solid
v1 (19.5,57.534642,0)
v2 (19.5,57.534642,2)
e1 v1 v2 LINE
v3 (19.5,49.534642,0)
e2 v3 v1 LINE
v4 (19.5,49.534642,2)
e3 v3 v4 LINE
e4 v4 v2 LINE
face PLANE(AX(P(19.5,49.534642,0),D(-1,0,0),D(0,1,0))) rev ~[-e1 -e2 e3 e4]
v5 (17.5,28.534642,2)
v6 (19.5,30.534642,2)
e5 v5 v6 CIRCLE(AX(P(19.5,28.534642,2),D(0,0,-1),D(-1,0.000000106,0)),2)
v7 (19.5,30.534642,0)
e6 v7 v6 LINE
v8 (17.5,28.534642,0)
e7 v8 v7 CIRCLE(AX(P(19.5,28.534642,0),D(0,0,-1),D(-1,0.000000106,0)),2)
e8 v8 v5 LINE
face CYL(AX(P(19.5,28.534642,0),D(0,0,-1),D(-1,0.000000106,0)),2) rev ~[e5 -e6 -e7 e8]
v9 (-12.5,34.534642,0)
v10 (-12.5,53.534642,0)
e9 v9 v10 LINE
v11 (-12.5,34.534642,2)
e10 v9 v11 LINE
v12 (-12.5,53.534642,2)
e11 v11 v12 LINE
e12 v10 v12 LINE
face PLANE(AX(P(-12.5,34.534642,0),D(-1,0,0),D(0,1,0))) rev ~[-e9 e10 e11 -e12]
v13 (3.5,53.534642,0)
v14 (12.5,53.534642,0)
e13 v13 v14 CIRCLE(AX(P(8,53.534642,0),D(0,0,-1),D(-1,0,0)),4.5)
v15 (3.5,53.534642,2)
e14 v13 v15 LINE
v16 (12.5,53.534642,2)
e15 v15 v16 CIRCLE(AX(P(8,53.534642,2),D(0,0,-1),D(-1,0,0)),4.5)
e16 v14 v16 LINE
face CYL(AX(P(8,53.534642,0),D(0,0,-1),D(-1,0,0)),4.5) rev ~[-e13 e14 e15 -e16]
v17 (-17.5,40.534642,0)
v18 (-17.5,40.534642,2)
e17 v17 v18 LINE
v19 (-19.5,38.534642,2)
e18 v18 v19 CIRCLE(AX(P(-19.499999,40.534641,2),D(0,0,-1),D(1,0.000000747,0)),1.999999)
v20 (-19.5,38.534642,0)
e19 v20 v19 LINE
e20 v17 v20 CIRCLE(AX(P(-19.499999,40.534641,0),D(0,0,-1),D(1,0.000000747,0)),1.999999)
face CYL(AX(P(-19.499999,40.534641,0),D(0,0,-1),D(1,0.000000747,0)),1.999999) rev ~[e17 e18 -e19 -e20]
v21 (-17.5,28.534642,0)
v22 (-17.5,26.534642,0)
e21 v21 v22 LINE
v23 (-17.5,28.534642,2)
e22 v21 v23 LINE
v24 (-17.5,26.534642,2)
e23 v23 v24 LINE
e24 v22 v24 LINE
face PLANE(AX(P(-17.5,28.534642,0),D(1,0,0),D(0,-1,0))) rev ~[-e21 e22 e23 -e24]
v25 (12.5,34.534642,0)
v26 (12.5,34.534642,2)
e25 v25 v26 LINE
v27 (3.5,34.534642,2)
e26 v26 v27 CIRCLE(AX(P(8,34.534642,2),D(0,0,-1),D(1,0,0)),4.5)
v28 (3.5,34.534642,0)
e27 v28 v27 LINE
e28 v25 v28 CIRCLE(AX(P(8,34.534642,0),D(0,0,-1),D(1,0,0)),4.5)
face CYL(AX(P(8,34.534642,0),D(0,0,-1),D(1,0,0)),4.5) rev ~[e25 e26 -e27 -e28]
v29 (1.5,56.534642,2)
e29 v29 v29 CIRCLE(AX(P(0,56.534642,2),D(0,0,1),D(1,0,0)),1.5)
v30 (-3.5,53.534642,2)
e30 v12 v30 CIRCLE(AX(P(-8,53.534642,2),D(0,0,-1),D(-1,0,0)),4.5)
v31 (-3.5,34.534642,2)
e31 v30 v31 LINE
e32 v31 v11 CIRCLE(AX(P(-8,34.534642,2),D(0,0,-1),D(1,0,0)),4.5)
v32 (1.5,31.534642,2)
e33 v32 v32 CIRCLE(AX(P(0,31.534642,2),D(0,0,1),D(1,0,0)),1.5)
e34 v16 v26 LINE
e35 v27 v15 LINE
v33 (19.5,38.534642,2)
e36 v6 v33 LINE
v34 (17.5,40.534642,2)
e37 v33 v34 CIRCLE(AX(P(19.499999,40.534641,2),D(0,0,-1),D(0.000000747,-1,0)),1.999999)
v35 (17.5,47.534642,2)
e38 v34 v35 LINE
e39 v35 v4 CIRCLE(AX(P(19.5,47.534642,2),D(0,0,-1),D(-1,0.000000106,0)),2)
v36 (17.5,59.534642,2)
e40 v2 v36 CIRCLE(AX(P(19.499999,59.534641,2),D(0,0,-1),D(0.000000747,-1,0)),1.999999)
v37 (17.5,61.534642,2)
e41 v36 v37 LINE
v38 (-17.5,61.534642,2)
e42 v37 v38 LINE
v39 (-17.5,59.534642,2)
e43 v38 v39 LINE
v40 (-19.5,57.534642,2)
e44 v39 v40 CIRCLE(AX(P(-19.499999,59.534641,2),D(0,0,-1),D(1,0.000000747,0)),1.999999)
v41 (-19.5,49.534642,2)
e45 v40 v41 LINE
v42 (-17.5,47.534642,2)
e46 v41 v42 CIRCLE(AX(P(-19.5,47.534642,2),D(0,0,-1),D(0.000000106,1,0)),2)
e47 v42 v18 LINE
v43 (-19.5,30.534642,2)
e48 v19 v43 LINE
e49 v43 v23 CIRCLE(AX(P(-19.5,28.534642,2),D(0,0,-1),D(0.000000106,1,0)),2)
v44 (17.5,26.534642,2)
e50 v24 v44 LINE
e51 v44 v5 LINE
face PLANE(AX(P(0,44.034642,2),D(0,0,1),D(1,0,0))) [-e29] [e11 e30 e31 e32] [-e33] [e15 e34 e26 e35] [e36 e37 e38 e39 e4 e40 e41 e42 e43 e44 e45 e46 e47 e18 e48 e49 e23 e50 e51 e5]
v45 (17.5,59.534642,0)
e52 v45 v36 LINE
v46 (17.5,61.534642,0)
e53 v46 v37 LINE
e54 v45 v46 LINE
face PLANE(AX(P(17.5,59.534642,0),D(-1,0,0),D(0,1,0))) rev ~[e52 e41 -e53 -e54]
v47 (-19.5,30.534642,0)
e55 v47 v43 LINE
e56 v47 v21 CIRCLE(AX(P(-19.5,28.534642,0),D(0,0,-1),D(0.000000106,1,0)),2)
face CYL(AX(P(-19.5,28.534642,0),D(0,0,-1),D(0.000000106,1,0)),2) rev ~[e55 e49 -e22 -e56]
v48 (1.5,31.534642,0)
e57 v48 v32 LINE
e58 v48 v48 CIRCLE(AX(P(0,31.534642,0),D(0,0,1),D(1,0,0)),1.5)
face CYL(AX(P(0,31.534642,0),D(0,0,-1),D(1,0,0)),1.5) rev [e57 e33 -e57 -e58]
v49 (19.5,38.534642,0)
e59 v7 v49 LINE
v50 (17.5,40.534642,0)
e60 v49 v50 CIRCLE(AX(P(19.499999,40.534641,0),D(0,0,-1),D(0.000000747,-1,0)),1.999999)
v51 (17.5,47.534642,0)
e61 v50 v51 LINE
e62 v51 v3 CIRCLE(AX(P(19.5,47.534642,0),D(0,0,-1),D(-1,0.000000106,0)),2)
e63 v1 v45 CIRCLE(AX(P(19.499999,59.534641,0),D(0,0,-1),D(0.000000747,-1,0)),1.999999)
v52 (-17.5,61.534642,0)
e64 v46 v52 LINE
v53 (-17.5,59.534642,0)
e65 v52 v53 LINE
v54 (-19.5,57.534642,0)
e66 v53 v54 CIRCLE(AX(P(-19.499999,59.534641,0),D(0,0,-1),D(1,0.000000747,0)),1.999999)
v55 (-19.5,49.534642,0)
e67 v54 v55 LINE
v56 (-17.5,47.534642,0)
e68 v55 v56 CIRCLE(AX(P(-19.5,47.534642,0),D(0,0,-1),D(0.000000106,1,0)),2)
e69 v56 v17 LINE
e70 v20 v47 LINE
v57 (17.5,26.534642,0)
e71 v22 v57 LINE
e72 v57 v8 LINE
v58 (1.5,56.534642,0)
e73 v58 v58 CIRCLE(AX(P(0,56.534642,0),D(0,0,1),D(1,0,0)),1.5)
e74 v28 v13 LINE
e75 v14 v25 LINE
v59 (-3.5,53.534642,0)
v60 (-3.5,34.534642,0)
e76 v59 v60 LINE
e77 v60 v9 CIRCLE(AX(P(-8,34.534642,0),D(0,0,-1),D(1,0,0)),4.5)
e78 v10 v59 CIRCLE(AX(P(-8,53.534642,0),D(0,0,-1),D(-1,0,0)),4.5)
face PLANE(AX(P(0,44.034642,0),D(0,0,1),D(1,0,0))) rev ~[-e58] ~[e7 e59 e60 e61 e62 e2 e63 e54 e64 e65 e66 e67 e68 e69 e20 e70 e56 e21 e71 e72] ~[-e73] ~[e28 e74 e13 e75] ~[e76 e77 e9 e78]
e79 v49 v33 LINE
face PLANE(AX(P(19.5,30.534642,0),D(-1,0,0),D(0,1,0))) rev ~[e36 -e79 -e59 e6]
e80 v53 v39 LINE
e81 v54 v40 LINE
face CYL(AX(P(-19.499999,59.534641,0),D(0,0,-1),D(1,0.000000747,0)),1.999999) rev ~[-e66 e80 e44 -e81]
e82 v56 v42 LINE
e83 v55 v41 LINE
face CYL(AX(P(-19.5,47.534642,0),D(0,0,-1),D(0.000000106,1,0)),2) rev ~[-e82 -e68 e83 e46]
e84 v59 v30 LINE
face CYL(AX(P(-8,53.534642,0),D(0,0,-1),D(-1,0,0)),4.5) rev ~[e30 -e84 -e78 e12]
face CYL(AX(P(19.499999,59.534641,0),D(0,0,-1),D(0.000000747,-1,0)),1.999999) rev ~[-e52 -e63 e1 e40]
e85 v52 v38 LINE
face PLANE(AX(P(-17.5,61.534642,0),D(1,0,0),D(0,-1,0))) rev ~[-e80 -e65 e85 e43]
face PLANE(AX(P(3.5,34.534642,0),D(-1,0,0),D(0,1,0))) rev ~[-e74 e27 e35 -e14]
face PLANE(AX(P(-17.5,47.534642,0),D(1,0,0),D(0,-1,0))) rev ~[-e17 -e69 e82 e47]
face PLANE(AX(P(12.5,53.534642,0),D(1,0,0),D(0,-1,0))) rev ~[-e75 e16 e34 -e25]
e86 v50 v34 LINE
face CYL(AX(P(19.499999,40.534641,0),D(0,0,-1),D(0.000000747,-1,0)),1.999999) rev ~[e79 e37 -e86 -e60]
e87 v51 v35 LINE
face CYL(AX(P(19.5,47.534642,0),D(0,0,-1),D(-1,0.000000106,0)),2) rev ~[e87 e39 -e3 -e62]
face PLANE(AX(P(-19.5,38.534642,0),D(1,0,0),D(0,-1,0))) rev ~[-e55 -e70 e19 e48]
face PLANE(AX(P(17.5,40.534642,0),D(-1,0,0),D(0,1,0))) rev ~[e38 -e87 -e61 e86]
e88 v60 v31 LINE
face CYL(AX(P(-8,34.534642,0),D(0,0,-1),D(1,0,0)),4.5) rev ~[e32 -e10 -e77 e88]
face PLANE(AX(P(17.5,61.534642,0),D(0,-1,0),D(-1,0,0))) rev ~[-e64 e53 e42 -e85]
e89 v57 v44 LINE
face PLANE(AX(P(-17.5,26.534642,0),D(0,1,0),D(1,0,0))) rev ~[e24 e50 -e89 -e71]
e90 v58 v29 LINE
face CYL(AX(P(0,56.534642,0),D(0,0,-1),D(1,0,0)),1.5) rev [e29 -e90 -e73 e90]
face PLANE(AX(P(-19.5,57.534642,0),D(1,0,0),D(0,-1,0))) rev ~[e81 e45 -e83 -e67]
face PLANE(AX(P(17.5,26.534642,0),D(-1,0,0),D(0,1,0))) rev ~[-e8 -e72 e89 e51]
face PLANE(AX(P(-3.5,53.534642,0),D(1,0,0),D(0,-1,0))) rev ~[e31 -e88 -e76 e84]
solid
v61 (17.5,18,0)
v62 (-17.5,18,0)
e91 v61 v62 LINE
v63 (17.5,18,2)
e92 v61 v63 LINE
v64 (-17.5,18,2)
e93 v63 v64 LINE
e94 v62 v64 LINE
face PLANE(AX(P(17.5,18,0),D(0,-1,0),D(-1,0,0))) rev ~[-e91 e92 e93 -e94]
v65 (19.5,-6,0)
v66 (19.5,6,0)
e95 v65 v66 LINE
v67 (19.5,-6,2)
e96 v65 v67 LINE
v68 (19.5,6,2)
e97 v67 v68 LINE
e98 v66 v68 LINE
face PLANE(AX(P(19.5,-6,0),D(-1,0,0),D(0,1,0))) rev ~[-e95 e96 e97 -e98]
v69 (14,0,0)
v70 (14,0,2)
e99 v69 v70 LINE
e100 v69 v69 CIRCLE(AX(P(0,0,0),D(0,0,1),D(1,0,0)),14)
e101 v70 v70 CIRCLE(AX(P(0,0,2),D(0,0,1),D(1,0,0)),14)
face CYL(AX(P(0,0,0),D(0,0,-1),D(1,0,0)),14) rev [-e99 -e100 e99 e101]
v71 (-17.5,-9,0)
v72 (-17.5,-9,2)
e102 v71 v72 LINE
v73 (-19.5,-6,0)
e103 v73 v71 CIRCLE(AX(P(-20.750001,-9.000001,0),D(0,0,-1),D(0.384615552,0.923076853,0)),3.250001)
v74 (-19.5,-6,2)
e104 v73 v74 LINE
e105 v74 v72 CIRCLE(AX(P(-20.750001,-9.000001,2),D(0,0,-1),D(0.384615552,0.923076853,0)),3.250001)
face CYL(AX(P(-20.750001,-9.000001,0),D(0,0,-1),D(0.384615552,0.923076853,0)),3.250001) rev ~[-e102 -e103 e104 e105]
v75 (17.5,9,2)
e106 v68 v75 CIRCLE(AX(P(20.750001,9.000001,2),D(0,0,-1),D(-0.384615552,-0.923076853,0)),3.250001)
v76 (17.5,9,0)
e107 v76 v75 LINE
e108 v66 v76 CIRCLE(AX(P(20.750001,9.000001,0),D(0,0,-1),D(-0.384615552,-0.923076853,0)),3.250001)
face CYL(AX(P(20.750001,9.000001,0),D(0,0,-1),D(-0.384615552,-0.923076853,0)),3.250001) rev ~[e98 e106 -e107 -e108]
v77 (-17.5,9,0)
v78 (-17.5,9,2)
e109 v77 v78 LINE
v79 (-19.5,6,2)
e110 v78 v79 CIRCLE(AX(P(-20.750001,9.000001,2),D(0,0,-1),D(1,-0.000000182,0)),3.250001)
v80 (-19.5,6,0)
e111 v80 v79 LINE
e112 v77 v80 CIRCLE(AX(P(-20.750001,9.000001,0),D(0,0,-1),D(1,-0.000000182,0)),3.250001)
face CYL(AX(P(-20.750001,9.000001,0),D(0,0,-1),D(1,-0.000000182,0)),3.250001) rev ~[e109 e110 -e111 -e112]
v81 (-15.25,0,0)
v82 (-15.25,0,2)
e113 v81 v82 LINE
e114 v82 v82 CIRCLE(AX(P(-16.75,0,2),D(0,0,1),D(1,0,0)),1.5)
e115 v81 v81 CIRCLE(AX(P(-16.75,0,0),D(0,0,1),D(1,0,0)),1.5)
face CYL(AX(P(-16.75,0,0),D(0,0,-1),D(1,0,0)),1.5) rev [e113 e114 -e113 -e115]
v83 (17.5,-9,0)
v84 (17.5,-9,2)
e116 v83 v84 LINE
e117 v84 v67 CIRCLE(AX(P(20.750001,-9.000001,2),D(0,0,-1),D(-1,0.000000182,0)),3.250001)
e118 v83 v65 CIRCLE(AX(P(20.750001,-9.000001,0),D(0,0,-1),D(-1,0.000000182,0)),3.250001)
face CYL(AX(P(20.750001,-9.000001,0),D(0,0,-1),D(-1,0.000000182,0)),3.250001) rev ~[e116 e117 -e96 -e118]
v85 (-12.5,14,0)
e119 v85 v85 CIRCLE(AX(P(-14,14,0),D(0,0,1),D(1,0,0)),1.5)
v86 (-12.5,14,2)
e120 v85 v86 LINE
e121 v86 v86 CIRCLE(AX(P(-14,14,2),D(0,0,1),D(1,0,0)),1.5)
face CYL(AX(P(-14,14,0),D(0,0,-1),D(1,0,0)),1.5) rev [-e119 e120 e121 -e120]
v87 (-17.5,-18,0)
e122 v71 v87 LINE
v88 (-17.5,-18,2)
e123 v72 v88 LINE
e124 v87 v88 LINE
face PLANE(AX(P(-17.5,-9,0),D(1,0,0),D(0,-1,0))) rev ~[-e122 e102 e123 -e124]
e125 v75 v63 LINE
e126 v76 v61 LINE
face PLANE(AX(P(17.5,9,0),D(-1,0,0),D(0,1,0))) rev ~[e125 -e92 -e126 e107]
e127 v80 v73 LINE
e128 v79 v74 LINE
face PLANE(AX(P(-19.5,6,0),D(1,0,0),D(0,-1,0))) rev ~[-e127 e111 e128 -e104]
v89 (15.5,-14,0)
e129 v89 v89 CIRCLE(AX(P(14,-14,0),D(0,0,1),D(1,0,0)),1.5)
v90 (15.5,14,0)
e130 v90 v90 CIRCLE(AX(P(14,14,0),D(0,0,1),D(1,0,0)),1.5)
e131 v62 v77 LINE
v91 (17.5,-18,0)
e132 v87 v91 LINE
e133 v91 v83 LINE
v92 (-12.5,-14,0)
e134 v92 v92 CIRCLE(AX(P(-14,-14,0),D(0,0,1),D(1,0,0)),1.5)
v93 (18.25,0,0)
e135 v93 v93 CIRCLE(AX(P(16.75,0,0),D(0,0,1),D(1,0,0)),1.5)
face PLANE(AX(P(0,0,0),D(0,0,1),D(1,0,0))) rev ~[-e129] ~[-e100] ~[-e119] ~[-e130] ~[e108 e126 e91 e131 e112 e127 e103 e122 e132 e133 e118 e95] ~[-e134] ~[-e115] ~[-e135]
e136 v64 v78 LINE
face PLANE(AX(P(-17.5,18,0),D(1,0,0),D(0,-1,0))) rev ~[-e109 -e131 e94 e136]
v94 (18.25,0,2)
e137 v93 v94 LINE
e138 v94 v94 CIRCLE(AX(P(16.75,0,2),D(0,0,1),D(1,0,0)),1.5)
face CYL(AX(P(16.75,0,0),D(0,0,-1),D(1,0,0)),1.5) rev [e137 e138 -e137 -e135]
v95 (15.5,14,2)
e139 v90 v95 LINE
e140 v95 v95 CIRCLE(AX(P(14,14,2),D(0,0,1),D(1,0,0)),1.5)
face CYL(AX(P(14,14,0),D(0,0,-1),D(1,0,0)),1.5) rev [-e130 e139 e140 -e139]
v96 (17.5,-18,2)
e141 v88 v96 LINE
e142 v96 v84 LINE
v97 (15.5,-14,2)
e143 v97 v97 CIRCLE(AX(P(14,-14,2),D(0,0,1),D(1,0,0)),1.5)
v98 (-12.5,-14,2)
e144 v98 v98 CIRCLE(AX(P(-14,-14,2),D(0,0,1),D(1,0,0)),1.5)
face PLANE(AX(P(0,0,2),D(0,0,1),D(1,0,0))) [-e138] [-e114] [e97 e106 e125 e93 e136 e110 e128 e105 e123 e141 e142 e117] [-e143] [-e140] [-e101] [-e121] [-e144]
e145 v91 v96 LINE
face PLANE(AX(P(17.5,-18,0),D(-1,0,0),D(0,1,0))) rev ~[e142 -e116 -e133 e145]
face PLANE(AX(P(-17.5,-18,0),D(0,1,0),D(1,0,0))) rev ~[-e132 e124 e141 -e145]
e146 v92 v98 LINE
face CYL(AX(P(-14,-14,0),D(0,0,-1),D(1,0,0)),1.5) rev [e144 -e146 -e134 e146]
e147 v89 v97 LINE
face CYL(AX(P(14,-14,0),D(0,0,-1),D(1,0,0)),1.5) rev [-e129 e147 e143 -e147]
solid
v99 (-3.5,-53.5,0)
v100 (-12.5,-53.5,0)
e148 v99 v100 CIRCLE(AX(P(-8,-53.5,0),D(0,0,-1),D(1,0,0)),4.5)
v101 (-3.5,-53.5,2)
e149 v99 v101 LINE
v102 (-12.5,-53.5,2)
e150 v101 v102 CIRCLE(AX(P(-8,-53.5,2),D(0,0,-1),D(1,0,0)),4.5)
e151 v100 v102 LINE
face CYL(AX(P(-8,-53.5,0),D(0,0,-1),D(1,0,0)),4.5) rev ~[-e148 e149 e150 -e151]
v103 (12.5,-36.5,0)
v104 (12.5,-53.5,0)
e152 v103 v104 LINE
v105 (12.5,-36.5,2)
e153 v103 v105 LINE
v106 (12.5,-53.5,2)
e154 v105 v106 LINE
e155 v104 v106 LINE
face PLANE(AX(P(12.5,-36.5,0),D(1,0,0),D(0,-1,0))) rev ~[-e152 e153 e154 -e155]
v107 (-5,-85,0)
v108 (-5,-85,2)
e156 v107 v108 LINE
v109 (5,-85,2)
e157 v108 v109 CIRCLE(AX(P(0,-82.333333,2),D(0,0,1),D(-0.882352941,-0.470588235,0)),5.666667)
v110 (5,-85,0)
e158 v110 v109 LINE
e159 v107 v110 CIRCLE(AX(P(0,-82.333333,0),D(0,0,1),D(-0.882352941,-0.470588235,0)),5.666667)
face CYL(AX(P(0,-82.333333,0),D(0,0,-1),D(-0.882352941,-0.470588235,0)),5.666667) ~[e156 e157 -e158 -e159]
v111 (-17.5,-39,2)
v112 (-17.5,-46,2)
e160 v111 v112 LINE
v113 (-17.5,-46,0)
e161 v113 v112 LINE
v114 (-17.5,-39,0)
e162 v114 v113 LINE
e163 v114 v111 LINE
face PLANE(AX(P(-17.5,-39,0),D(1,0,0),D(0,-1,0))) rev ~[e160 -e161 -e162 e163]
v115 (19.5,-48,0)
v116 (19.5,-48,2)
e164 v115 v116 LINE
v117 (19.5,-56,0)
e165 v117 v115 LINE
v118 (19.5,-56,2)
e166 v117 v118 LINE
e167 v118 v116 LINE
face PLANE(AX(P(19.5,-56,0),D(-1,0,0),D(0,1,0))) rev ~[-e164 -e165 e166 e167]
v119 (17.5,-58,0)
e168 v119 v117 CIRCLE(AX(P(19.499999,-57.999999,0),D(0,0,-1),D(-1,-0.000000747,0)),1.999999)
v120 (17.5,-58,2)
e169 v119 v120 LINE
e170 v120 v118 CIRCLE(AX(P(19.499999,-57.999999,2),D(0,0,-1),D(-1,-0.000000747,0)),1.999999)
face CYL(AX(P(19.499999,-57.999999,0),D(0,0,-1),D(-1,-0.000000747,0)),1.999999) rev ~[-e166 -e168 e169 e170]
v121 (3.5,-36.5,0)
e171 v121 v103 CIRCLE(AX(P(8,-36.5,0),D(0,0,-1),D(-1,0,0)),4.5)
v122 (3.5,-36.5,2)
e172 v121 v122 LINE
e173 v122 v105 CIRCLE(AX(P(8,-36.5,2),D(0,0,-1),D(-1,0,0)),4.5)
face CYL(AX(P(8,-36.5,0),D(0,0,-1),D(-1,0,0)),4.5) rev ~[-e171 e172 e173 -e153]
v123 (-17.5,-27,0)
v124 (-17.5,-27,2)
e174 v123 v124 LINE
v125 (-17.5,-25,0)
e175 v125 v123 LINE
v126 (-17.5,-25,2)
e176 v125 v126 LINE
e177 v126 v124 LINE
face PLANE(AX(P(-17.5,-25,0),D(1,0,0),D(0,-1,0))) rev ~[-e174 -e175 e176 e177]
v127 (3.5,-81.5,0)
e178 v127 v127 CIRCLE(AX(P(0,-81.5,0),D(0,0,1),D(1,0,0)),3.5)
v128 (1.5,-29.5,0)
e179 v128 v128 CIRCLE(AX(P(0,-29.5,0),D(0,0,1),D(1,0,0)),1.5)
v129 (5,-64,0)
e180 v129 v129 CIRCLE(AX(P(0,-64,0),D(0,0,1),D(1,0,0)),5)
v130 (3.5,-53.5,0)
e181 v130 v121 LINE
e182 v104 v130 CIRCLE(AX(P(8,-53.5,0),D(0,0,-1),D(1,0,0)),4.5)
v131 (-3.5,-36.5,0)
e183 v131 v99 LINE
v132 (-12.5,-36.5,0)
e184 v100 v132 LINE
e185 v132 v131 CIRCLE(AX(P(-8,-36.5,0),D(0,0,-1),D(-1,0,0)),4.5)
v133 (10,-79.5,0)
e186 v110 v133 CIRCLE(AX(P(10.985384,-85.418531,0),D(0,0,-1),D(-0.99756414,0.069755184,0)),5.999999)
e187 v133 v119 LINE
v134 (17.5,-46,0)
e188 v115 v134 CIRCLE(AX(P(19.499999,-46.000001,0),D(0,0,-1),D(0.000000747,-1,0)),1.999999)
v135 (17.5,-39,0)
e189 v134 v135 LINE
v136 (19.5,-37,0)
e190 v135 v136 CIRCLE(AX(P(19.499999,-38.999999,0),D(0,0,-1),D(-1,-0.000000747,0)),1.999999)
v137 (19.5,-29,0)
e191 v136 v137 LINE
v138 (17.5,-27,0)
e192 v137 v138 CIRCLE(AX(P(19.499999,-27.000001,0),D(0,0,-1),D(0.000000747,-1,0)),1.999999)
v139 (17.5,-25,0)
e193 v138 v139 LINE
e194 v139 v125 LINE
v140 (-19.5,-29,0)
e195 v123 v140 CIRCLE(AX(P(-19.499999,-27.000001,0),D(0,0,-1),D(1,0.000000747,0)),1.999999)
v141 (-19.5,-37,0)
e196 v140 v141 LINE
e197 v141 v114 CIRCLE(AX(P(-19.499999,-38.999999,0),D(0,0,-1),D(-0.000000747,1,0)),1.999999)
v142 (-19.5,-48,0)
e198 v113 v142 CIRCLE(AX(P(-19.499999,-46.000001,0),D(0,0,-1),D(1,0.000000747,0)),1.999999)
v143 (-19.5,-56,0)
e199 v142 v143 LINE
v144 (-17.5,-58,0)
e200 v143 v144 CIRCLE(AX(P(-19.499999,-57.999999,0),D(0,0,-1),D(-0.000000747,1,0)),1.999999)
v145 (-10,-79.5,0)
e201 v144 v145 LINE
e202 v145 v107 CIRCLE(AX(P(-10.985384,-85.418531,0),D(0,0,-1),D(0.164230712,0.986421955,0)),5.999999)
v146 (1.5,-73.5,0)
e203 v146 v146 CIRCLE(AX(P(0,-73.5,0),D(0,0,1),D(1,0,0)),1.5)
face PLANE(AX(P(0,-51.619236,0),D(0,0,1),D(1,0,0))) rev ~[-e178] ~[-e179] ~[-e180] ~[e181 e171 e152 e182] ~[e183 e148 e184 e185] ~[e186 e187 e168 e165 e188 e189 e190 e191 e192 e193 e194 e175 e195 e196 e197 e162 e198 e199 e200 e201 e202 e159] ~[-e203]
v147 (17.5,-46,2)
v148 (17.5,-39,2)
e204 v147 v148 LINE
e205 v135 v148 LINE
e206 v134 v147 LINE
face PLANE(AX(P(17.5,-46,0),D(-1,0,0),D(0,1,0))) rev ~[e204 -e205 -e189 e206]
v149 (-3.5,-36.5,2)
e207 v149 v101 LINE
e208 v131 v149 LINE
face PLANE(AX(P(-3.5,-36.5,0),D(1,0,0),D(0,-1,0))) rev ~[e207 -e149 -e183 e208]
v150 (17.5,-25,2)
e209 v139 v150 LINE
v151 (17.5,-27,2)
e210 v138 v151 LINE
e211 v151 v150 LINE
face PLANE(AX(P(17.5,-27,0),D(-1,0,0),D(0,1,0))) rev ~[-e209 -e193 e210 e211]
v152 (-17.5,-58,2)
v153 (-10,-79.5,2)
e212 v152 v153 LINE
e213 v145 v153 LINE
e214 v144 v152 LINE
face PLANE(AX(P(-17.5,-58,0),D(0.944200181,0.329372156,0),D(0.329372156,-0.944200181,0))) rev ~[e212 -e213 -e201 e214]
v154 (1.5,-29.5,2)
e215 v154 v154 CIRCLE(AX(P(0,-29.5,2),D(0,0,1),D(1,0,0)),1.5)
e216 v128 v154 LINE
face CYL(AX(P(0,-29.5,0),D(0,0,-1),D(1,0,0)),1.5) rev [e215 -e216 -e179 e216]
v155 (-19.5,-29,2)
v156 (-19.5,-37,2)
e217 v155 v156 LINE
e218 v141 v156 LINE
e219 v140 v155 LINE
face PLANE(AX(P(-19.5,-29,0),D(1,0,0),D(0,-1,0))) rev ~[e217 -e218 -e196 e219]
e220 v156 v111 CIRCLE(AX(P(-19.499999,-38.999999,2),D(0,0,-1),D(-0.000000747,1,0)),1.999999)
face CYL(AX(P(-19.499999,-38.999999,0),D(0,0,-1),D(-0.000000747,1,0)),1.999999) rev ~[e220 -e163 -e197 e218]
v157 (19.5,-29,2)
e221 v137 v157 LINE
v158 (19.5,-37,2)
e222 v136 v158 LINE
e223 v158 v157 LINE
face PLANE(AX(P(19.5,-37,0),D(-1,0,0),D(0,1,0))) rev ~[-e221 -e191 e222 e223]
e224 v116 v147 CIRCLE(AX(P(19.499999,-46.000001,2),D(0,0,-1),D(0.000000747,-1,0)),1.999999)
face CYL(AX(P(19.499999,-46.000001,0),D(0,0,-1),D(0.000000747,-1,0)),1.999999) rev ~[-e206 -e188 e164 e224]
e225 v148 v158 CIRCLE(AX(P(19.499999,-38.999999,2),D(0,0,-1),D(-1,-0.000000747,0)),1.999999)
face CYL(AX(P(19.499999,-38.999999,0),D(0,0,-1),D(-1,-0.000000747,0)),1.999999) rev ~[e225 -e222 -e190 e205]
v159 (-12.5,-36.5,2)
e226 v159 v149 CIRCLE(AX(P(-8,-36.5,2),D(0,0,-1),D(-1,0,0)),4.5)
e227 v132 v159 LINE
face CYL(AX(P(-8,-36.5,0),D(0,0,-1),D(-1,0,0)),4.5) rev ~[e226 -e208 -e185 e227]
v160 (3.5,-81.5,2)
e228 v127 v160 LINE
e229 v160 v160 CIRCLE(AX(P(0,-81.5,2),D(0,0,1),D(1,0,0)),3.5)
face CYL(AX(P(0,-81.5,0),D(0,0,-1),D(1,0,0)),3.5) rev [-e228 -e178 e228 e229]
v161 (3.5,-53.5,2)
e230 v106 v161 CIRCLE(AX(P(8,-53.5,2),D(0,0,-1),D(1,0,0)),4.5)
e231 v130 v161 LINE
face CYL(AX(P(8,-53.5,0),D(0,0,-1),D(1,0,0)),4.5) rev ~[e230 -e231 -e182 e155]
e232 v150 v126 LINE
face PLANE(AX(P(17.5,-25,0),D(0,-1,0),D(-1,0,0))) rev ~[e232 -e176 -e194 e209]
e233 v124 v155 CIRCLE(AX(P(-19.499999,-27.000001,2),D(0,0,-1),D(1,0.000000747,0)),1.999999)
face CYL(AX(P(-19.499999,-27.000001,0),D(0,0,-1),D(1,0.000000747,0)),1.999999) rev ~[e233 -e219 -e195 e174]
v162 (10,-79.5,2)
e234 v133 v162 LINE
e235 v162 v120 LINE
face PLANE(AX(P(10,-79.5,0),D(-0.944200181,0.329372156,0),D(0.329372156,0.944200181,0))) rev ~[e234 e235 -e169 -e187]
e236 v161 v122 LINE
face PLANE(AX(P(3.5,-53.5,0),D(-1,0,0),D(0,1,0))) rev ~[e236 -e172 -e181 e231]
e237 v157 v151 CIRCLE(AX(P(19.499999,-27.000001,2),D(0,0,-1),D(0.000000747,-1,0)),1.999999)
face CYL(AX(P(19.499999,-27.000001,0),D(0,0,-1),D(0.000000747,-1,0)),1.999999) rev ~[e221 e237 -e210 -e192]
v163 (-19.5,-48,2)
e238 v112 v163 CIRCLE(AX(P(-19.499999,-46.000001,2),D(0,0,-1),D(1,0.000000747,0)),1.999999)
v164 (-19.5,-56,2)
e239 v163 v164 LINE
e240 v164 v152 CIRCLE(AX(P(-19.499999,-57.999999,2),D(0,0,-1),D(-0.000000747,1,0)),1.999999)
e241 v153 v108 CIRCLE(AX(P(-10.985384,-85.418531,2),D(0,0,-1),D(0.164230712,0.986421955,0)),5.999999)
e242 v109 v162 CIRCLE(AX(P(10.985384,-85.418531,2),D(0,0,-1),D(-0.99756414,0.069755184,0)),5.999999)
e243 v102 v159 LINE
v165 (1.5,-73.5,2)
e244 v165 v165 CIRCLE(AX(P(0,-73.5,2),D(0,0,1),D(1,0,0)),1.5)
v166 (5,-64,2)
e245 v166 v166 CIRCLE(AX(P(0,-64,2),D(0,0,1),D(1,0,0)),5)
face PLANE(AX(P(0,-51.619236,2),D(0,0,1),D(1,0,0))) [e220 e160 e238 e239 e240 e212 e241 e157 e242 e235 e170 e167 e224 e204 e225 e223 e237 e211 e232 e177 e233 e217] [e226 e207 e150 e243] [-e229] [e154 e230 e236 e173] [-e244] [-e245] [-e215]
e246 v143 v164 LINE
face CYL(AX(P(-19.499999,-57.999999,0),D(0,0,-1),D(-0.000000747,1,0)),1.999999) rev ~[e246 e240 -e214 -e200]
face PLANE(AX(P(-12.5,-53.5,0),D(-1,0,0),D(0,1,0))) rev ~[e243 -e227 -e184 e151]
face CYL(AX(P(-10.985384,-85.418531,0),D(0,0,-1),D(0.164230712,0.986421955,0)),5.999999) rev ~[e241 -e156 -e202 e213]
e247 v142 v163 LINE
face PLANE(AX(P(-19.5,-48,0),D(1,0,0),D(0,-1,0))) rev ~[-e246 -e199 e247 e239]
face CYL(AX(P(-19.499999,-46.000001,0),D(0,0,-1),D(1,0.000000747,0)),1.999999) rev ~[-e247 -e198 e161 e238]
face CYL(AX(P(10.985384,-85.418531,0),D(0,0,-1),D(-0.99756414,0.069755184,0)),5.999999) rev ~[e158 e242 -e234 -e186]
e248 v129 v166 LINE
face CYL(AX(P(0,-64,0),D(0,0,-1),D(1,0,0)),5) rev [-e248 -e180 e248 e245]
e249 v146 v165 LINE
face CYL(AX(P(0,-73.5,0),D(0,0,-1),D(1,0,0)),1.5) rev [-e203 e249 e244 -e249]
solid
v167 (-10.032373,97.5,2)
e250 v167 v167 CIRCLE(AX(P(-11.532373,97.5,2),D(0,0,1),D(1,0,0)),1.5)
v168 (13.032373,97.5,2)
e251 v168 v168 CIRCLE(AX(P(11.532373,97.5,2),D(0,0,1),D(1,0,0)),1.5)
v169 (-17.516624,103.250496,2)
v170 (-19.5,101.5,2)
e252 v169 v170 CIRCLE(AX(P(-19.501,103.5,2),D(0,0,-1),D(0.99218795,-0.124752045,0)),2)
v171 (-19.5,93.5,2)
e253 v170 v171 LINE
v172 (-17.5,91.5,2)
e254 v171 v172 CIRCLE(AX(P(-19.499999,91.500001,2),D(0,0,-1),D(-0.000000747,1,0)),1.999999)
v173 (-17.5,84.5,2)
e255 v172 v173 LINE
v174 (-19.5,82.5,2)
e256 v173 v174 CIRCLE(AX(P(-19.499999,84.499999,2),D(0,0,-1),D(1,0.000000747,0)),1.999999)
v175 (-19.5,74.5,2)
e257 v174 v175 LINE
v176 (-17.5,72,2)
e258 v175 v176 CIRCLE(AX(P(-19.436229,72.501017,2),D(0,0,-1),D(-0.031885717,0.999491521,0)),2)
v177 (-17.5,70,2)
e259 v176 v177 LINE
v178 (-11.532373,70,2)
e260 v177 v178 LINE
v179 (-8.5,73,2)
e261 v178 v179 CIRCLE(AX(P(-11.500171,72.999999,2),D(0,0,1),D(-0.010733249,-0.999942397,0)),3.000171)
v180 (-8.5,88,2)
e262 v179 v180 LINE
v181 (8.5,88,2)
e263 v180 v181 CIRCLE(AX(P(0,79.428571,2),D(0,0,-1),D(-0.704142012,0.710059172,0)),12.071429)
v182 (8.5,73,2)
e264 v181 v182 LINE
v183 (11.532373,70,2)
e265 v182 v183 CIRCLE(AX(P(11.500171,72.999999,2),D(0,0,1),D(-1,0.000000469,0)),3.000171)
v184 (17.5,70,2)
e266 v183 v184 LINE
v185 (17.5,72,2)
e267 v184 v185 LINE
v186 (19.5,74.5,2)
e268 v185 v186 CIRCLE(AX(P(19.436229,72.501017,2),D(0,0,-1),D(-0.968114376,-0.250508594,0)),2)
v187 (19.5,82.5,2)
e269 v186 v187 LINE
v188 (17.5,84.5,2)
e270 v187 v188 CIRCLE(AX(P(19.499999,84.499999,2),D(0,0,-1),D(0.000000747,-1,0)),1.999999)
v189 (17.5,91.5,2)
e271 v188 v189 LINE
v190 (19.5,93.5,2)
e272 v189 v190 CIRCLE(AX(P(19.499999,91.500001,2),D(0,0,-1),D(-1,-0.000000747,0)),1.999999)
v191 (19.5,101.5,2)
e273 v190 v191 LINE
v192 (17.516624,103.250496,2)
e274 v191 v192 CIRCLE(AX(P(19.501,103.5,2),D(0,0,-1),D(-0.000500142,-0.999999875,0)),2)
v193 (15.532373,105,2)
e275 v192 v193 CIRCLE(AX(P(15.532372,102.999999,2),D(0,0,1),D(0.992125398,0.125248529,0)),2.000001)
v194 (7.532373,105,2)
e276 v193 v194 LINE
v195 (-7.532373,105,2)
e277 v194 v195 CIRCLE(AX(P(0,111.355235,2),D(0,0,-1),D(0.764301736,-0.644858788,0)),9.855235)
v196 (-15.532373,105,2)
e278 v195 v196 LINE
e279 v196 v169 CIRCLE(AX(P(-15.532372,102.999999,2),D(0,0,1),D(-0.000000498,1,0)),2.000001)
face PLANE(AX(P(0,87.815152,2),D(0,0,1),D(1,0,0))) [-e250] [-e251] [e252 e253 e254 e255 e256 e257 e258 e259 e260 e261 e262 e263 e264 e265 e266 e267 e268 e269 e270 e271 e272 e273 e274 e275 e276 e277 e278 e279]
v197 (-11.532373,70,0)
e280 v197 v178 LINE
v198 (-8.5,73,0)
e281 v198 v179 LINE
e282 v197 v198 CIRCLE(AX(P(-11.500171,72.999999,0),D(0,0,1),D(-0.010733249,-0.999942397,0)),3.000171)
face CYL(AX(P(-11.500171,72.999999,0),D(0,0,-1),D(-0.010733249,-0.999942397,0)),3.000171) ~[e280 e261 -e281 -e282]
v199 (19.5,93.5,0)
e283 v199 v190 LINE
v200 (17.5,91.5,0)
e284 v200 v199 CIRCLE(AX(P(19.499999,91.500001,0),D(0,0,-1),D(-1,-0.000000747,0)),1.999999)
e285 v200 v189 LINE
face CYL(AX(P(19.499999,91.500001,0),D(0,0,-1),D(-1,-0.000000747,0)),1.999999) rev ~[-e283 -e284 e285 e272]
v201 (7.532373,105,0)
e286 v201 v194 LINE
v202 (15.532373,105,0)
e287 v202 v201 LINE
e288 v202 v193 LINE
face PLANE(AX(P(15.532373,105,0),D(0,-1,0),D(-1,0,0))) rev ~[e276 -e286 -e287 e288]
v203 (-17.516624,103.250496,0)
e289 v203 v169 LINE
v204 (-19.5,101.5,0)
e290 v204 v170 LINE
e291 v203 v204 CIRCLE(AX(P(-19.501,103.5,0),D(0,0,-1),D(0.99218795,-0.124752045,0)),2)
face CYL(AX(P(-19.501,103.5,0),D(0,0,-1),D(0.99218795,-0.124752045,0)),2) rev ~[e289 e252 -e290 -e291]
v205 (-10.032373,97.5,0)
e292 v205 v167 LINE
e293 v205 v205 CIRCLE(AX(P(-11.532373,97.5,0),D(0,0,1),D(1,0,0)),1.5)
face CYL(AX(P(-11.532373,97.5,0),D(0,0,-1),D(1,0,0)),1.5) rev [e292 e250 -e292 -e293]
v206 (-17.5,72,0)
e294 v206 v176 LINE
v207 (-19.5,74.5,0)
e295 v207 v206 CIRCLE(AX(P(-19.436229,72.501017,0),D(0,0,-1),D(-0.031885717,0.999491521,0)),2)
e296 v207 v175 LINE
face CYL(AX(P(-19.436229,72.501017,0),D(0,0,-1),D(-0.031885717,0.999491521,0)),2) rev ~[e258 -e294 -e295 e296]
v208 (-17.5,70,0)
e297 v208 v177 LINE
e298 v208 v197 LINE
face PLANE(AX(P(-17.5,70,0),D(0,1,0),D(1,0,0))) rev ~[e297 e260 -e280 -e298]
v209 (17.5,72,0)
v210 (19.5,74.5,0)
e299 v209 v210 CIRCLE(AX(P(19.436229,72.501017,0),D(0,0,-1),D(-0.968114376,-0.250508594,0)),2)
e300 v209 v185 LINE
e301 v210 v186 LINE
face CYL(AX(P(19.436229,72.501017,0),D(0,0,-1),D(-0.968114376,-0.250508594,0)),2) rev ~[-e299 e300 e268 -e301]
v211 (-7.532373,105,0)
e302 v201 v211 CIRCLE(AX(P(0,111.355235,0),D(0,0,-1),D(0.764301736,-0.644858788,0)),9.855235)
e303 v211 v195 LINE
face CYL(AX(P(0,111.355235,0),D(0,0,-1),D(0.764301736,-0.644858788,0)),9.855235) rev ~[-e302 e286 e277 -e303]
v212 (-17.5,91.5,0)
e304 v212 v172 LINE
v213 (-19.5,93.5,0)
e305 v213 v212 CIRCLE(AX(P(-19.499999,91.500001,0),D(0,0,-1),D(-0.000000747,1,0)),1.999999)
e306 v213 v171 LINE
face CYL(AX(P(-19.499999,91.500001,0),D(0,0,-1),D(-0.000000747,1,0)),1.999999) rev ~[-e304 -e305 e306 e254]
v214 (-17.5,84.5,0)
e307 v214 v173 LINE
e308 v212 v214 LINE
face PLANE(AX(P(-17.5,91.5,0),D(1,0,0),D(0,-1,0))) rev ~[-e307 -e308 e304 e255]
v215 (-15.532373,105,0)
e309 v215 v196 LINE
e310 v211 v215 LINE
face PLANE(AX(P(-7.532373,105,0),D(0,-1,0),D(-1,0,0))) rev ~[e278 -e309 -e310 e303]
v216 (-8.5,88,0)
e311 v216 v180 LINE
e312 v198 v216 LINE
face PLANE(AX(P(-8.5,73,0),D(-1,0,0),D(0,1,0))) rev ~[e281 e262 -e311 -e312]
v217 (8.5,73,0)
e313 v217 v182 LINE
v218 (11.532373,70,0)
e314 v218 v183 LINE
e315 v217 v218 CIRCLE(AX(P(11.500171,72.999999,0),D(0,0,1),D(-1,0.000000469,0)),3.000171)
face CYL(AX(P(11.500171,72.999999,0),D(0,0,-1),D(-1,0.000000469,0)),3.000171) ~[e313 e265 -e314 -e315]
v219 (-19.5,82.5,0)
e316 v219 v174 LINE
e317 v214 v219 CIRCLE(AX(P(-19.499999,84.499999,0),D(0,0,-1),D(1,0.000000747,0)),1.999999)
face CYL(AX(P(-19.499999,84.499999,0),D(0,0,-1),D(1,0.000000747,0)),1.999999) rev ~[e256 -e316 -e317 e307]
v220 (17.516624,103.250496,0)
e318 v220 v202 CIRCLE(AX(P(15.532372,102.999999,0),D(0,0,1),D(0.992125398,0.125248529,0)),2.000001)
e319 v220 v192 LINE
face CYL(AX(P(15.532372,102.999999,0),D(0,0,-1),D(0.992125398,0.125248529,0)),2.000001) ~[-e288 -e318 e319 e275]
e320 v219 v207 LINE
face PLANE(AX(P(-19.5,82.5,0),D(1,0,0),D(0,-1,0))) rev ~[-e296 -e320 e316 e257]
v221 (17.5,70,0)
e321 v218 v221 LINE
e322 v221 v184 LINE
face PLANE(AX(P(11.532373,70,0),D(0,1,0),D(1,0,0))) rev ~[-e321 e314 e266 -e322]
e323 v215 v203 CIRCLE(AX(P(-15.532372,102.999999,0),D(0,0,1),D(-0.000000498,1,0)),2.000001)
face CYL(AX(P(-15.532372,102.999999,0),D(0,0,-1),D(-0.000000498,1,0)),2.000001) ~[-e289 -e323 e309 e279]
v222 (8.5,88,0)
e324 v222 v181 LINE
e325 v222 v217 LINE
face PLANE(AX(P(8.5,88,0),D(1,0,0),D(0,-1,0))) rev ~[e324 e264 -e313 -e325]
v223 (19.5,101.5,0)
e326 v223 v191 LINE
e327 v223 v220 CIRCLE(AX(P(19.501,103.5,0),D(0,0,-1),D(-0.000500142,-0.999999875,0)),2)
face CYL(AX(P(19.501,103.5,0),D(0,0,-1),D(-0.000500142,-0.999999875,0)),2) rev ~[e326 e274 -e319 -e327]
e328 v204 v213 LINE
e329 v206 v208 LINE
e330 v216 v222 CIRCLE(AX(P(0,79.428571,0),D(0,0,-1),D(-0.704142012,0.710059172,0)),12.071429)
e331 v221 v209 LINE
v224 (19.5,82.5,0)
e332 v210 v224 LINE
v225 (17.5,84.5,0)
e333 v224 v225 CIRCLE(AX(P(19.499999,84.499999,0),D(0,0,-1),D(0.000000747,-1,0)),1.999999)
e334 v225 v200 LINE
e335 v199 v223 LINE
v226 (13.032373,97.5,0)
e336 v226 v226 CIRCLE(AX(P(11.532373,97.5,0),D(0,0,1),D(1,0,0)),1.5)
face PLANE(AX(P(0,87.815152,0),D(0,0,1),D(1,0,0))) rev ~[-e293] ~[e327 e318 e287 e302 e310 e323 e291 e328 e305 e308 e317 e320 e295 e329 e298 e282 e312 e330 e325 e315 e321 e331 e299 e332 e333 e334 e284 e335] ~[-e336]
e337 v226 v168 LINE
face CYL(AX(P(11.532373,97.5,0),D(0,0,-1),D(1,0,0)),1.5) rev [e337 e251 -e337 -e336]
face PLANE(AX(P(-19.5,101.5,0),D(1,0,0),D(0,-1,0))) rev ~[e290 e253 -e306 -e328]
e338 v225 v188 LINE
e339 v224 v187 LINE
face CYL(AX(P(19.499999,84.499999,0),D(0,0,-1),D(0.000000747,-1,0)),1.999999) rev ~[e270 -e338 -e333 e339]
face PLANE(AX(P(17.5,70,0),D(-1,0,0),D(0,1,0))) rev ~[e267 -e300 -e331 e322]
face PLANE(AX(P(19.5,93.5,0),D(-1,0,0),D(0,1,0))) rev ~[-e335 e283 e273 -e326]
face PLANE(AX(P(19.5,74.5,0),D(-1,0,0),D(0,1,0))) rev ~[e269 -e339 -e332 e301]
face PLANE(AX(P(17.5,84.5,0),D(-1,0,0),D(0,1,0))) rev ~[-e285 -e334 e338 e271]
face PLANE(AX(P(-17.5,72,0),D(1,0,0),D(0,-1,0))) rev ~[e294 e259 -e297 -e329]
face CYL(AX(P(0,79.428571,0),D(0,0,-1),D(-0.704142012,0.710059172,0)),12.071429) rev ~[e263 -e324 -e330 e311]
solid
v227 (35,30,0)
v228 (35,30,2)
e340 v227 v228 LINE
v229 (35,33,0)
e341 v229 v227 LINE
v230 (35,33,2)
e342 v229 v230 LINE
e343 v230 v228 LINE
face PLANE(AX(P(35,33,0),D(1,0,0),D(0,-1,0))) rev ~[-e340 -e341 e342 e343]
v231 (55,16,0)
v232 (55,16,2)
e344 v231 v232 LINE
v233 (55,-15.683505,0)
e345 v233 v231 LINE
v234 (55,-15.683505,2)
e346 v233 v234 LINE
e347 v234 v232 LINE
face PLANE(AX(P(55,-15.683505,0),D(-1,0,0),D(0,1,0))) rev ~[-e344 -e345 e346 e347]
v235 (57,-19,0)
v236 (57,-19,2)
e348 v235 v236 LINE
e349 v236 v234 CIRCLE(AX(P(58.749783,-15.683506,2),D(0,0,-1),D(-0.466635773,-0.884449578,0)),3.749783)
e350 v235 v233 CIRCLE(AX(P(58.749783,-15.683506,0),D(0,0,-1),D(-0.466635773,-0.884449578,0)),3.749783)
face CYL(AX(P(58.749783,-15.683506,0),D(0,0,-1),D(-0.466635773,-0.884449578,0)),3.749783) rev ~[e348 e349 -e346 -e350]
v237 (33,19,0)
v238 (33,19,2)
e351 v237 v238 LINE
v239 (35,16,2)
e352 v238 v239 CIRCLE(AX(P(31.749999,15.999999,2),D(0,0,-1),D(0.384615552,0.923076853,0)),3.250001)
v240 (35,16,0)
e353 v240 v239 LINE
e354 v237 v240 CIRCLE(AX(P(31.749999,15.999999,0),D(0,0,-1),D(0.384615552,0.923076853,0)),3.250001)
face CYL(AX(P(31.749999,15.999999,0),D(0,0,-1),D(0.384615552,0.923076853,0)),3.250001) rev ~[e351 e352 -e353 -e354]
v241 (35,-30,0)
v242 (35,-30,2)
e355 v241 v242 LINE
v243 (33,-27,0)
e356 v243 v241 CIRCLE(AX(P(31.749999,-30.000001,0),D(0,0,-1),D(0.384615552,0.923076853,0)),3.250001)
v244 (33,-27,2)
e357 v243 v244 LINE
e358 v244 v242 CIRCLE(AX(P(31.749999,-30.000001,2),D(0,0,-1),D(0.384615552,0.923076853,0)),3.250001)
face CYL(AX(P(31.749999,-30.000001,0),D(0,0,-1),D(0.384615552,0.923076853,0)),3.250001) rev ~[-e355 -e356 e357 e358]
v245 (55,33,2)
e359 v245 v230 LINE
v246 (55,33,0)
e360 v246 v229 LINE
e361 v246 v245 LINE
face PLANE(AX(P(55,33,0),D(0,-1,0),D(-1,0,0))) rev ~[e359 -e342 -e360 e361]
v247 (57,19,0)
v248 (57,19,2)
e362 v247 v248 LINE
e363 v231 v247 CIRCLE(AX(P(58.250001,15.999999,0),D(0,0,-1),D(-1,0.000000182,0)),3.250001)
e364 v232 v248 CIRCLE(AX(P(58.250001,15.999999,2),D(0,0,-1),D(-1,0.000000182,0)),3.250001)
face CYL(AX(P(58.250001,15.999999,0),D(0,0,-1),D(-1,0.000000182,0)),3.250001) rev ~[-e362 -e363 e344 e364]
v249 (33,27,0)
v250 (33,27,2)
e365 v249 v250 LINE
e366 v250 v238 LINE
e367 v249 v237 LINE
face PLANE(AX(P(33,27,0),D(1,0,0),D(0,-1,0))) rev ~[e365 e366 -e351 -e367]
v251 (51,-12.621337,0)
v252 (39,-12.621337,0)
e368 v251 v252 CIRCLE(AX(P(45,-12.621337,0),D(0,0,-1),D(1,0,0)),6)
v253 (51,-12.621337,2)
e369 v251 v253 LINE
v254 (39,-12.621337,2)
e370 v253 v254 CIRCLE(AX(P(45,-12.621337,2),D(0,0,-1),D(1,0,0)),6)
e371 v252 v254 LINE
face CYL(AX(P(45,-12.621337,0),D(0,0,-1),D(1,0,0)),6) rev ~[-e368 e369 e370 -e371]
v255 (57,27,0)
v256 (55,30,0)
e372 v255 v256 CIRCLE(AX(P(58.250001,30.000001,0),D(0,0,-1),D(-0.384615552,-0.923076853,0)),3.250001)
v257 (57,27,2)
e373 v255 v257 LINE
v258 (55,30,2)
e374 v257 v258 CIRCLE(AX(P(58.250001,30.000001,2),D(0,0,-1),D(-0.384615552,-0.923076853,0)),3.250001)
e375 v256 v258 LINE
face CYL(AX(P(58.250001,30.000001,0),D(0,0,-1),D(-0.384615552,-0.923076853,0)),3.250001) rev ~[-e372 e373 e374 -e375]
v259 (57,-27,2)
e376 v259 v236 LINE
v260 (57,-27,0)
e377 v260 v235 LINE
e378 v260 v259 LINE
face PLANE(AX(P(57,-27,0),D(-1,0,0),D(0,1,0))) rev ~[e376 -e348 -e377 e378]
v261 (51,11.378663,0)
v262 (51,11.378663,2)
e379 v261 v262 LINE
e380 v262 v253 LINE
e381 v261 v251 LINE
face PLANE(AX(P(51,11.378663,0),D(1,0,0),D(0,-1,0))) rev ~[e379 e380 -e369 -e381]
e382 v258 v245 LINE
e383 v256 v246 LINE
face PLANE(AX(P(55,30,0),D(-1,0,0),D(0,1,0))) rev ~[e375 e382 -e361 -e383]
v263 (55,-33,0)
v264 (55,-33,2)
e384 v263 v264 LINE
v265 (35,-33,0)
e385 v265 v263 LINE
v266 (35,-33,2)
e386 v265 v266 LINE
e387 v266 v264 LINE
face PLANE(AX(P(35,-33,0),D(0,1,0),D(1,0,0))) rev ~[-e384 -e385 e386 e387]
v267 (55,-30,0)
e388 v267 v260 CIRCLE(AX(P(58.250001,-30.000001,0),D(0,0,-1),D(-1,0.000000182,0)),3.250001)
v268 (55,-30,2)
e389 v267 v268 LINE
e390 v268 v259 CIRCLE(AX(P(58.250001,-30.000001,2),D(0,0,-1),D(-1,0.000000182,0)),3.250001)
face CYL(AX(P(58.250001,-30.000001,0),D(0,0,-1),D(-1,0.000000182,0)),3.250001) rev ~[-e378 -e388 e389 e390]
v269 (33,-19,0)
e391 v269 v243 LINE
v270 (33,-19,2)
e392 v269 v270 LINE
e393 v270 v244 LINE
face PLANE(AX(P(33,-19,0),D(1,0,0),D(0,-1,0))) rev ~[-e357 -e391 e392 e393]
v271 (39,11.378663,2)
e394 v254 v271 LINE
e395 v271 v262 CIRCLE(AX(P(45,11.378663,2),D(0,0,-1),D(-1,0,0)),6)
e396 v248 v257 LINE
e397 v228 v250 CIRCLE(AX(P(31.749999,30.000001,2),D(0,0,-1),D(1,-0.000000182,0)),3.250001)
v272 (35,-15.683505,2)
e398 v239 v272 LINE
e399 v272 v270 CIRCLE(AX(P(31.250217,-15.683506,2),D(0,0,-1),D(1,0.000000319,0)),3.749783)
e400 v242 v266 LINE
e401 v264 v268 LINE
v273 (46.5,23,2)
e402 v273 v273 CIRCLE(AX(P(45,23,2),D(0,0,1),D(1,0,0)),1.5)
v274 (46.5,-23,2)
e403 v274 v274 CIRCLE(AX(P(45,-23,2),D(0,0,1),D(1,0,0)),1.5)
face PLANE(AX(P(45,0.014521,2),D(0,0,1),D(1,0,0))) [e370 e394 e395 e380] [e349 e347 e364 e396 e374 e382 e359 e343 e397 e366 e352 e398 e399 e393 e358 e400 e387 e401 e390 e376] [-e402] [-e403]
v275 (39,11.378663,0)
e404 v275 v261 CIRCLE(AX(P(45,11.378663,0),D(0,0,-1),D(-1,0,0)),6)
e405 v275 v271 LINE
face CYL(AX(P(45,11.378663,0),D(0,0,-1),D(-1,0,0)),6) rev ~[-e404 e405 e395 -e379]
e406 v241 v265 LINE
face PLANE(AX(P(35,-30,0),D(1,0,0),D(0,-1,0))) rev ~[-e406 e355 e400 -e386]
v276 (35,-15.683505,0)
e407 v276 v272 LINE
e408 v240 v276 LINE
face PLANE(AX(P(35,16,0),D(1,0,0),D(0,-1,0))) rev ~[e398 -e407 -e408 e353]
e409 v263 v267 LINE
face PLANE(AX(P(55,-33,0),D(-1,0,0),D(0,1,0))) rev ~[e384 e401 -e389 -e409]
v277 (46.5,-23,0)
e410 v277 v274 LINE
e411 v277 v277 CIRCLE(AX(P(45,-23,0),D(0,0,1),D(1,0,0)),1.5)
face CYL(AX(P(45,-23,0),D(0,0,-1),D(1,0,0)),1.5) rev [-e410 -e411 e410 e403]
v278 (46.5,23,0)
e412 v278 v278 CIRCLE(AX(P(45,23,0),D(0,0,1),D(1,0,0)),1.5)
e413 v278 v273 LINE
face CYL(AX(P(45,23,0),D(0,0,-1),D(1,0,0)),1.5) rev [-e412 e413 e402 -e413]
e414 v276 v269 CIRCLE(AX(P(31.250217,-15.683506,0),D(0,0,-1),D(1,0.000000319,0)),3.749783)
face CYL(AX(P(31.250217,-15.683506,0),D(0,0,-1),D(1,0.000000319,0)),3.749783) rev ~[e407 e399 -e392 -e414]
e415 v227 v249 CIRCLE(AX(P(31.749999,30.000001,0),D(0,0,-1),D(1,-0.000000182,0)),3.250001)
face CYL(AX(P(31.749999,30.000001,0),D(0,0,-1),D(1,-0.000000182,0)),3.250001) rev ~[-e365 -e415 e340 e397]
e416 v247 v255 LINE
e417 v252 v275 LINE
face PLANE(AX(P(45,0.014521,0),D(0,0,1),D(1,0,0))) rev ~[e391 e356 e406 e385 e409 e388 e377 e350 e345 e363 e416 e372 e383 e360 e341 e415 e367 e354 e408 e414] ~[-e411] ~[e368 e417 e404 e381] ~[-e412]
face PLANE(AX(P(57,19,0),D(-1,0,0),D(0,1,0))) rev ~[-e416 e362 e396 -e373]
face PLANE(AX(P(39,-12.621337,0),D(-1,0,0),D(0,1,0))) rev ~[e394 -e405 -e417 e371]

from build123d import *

# Parameters (mm, degrees)
F0_R     = 1.5
F0_R_2   = 14
F1_DEPTH = 2
F2_R     = 1.5
F3_DEPTH = 2
F4_R     = 1.5
F5_DEPTH = 2
F6_R     = 3.5
F6_R_2   = 1.5
F6_R_3   = 5
F7_DEPTH = 2
F8_R     = 1.5
F9_DEPTH = 2


with BuildPart() as f1:
    # F0 (on Top) → F1 (new body)
    with BuildSketch(Plane.XY):
        with BuildLine():
            Line((17.5, 18), (-17.5, 18))
            Line((-17.5, 18), (-17.5, 9))
            ThreePointArc((-17.5, 9), (-18.045837, 7.197224), (-19.5, 6))
            Line((-19.5, 6), (-19.5, -6))
            ThreePointArc((-19.5, -6), (-18.045837, -7.197224), (-17.5, -9))
            Line((-17.5, -9), (-17.5, -18))
            Line((-17.5, -18), (17.5, -18))
            Line((17.5, -18), (17.5, -9))
            ThreePointArc((17.5, -9), (18.045837, -7.197224), (19.5, -6))
            Line((19.5, -6), (19.5, 6))
            ThreePointArc((19.5, 6), (18.045837, 7.197224), (17.5, 9))
            Line((17.5, 9), (17.5, 18))
        make_face()
        with Locations((-14, -14)):
            Circle(F0_R, mode=Mode.SUBTRACT)
        with Locations((14, -14)):
            Circle(F0_R, mode=Mode.SUBTRACT)
        with Locations((-16.75, 0)):
            Circle(F0_R, mode=Mode.SUBTRACT)
        with Locations((-14, 14)):
            Circle(F0_R, mode=Mode.SUBTRACT)
        Circle(F0_R_2, mode=Mode.SUBTRACT)
        with Locations((16.75, 0)):
            Circle(F0_R, mode=Mode.SUBTRACT)
        with Locations((14, 14)):
            Circle(F0_R, mode=Mode.SUBTRACT)
    extrude(amount=F1_DEPTH)


with BuildPart() as f3:
    # F2 (on Top) → F3 (new body)
    with BuildSketch(Plane.XY):
        with BuildLine():
            ThreePointArc((-19.5, 49.534642), (-18.085786, 48.948855), (-17.5, 47.534642))
            Line((-17.5, 47.534642), (-17.5, 40.534642))
            ThreePointArc((-17.5, 40.534642), (-18.085786, 39.120428), (-19.5, 38.534642))
            Line((-19.5, 38.534642), (-19.5, 30.534642))
            ThreePointArc((-19.5, 30.534642), (-18.085786, 29.948855), (-17.5, 28.534642))
            Line((-17.5, 28.534642), (-17.5, 26.534642))
            Line((-17.5, 26.534642), (17.5, 26.534642))
            Line((17.5, 26.534642), (17.5, 28.534642))
            ThreePointArc((17.5, 28.534642), (18.085786, 29.948855), (19.5, 30.534642))
            Line((19.5, 30.534642), (19.5, 38.534642))
            ThreePointArc((19.5, 38.534642), (18.085786, 39.120428), (17.5, 40.534642))
            Line((17.5, 40.534642), (17.5, 47.534642))
            ThreePointArc((17.5, 47.534642), (18.085786, 48.948855), (19.5, 49.534642))
            Line((19.5, 49.534642), (19.5, 57.534642))
            ThreePointArc((19.5, 57.534642), (18.085786, 58.120428), (17.5, 59.534642))
            Line((17.5, 59.534642), (17.5, 61.534642))
            Line((17.5, 61.534642), (-17.5, 61.534642))
            Line((-17.5, 61.534642), (-17.5, 59.534642))
            ThreePointArc((-17.5, 59.534642), (-18.085786, 58.120428), (-19.5, 57.534642))
            Line((-19.5, 57.534642), (-19.5, 49.534642))
        make_face()
        with Locations((0, 31.534642)):
            Circle(F2_R, mode=Mode.SUBTRACT)
        with BuildLine():
            Line((-12.5, 34.534642), (-12.5, 53.534642))
            ThreePointArc((-12.5, 53.534642), (-8, 58.034642), (-3.5, 53.534642))
            Line((-3.5, 53.534642), (-3.5, 34.534642))
            ThreePointArc((-3.5, 34.534642), (-8, 30.034642), (-12.5, 34.534642))
        make_face(mode=Mode.SUBTRACT)
        with BuildLine():
            Line((12.5, 53.534642), (12.5, 34.534642))
            ThreePointArc((12.5, 34.534642), (8, 30.034642), (3.5, 34.534642))
            Line((3.5, 34.534642), (3.5, 53.534642))
            ThreePointArc((3.5, 53.534642), (8, 58.034642), (12.5, 53.534642))
        make_face(mode=Mode.SUBTRACT)
        with Locations((0, 56.534642)):
            Circle(F2_R, mode=Mode.SUBTRACT)
    extrude(amount=F3_DEPTH)


with BuildPart() as f5:
    # F4 (on Top) → F5 (new body)
    with BuildSketch(Plane.XY):
        with BuildLine():
            Line((-17.5, 72), (-17.5, 70))
            Line((-17.5, 70), (-11.532373, 70))
            ThreePointArc((-11.532373, 70), (-9.390145, 70.867203), (-8.5, 73))
            Line((-8.5, 73), (-8.5, 88))
            ThreePointArc((-8.5, 88), (0, 91.5), (8.5, 88))
            Line((8.5, 88), (8.5, 73))
            ThreePointArc((8.5, 73), (9.390145, 70.867203), (11.532373, 70))
            Line((11.532373, 70), (17.5, 70))
            Line((17.5, 70), (17.5, 72))
            ThreePointArc((17.5, 72), (17.874491, 73.750407), (19.5, 74.5))
            Line((19.5, 74.5), (19.5, 82.5))
            ThreePointArc((19.5, 82.5), (18.085786, 83.085786), (17.5, 84.5))
            Line((17.5, 84.5), (17.5, 91.5))
            ThreePointArc((17.5, 91.5), (18.085786, 92.914214), (19.5, 93.5))
            Line((19.5, 93.5), (19.5, 101.5))
            ThreePointArc((19.5, 101.5), (18.177562, 102.000496), (17.516624, 103.250496))
            ThreePointArc((17.516624, 103.250496), (16.855061, 104.500165), (15.532373, 105))
            Line((15.532373, 105), (7.532373, 105))
            ThreePointArc((7.532373, 105), (0, 101.5), (-7.532373, 105))
            Line((-7.532373, 105), (-15.532373, 105))
            ThreePointArc((-15.532373, 105), (-16.855061, 104.500165), (-17.516624, 103.250496))
            ThreePointArc((-17.516624, 103.250496), (-18.177562, 102.000496), (-19.5, 101.5))
            Line((-19.5, 101.5), (-19.5, 93.5))
            ThreePointArc((-19.5, 93.5), (-18.085786, 92.914214), (-17.5, 91.5))
            Line((-17.5, 91.5), (-17.5, 84.5))
            ThreePointArc((-17.5, 84.5), (-18.085786, 83.085786), (-19.5, 82.5))
            Line((-19.5, 82.5), (-19.5, 74.5))
            ThreePointArc((-19.5, 74.5), (-17.874491, 73.750407), (-17.5, 72))
        make_face()
        with Locations((-11.532373, 97.5)):
            Circle(F4_R, mode=Mode.SUBTRACT)
        with Locations((11.532373, 97.5)):
            Circle(F4_R, mode=Mode.SUBTRACT)
    extrude(amount=F5_DEPTH)


with BuildPart() as f7:
    # F6 (on Top) → F7 (new body)
    with BuildSketch(Plane.XY):
        with BuildLine():
            Line((17.5, -25), (-17.5, -25))
            Line((-17.5, -25), (-17.5, -27))
            ThreePointArc((-17.5, -27), (-18.085786, -28.414214), (-19.5, -29))
            Line((-19.5, -29), (-19.5, -37))
            ThreePointArc((-19.5, -37), (-18.085786, -37.585786), (-17.5, -39))
            Line((-17.5, -39), (-17.5, -46))
            ThreePointArc((-17.5, -46), (-18.085786, -47.414214), (-19.5, -48))
            Line((-19.5, -48), (-19.5, -56))
            ThreePointArc((-19.5, -56), (-18.085786, -56.585786), (-17.5, -58))
            Line((-17.5, -58), (-10, -79.5))
            ThreePointArc((-10, -79.5), (-6.545744, -81.382495), (-5, -85))
            ThreePointArc((-5, -85), (0, -88), (5, -85))
            ThreePointArc((5, -85), (6.545744, -81.382495), (10, -79.5))
            Line((10, -79.5), (17.5, -58))
            ThreePointArc((17.5, -58), (18.085786, -56.585786), (19.5, -56))
            Line((19.5, -56), (19.5, -48))
            ThreePointArc((19.5, -48), (18.085786, -47.414214), (17.5, -46))
            Line((17.5, -46), (17.5, -39))
            ThreePointArc((17.5, -39), (18.085786, -37.585786), (19.5, -37))
            Line((19.5, -37), (19.5, -29))
            ThreePointArc((19.5, -29), (18.085786, -28.414214), (17.5, -27))
            Line((17.5, -27), (17.5, -25))
        make_face()
        with Locations((0, -81.5)):
            Circle(F6_R, mode=Mode.SUBTRACT)
        with Locations((0, -73.5)):
            Circle(F6_R_2, mode=Mode.SUBTRACT)
        with Locations((0, -64)):
            Circle(F6_R_3, mode=Mode.SUBTRACT)
        with BuildLine():
            Line((-12.5, -53.5), (-12.5, -36.5))
            ThreePointArc((-12.5, -36.5), (-8, -32), (-3.5, -36.5))
            Line((-3.5, -36.5), (-3.5, -53.5))
            ThreePointArc((-3.5, -53.5), (-8, -58), (-12.5, -53.5))
        make_face(mode=Mode.SUBTRACT)
        with BuildLine():
            Line((3.5, -53.5), (3.5, -36.5))
            ThreePointArc((3.5, -36.5), (8, -32), (12.5, -36.5))
            Line((12.5, -36.5), (12.5, -53.5))
            ThreePointArc((12.5, -53.5), (8, -58), (3.5, -53.5))
        make_face(mode=Mode.SUBTRACT)
        with Locations((0, -29.5)):
            Circle(F6_R_2, mode=Mode.SUBTRACT)
    extrude(amount=F7_DEPTH)


with BuildPart() as f9:
    # F8 (on Top) → F9 (new body)
    with BuildSketch(Plane.XY):
        with BuildLine():
            Line((55, 33), (35, 33))
            Line((35, 33), (35, 30))
            ThreePointArc((35, 30), (34.454163, 28.197224), (33, 27))
            Line((33, 27), (33, 19))
            ThreePointArc((33, 19), (34.454163, 17.802776), (35, 16))
            Line((35, 16), (35, -15.683505))
            ThreePointArc((35, -15.683505), (34.461306, -17.619941), (33, -19))
            Line((33, -19), (33, -27))
            ThreePointArc((33, -27), (34.454163, -28.197224), (35, -30))
            Line((35, -30), (35, -33))
            Line((35, -33), (55, -33))
            Line((55, -33), (55, -30))
            ThreePointArc((55, -30), (55.545837, -28.197224), (57, -27))
            Line((57, -27), (57, -19))
            ThreePointArc((57, -19), (55.538694, -17.619941), (55, -15.683505))
            Line((55, -15.683505), (55, 16))
            ThreePointArc((55, 16), (55.545837, 17.802776), (57, 19))
            Line((57, 19), (57, 27))
            ThreePointArc((57, 27), (55.545837, 28.197224), (55, 30))
            Line((55, 30), (55, 33))
        make_face()
        with Locations((45, -23)):
            Circle(F8_R, mode=Mode.SUBTRACT)
        with BuildLine():
            Line((39, -12.621337), (39, 11.378663))
            ThreePointArc((39, 11.378663), (45, 17.378663), (51, 11.378663))
            Line((51, 11.378663), (51, -12.621337))
            ThreePointArc((51, -12.621337), (45, -18.621337), (39, -12.621337))
        make_face(mode=Mode.SUBTRACT)
        with Locations((45, 23)):
            Circle(F8_R, mode=Mode.SUBTRACT)
    extrude(amount=F9_DEPTH)


solid = Compound([f1.part, f3.part, f5.part, f7.part, f9.part])
